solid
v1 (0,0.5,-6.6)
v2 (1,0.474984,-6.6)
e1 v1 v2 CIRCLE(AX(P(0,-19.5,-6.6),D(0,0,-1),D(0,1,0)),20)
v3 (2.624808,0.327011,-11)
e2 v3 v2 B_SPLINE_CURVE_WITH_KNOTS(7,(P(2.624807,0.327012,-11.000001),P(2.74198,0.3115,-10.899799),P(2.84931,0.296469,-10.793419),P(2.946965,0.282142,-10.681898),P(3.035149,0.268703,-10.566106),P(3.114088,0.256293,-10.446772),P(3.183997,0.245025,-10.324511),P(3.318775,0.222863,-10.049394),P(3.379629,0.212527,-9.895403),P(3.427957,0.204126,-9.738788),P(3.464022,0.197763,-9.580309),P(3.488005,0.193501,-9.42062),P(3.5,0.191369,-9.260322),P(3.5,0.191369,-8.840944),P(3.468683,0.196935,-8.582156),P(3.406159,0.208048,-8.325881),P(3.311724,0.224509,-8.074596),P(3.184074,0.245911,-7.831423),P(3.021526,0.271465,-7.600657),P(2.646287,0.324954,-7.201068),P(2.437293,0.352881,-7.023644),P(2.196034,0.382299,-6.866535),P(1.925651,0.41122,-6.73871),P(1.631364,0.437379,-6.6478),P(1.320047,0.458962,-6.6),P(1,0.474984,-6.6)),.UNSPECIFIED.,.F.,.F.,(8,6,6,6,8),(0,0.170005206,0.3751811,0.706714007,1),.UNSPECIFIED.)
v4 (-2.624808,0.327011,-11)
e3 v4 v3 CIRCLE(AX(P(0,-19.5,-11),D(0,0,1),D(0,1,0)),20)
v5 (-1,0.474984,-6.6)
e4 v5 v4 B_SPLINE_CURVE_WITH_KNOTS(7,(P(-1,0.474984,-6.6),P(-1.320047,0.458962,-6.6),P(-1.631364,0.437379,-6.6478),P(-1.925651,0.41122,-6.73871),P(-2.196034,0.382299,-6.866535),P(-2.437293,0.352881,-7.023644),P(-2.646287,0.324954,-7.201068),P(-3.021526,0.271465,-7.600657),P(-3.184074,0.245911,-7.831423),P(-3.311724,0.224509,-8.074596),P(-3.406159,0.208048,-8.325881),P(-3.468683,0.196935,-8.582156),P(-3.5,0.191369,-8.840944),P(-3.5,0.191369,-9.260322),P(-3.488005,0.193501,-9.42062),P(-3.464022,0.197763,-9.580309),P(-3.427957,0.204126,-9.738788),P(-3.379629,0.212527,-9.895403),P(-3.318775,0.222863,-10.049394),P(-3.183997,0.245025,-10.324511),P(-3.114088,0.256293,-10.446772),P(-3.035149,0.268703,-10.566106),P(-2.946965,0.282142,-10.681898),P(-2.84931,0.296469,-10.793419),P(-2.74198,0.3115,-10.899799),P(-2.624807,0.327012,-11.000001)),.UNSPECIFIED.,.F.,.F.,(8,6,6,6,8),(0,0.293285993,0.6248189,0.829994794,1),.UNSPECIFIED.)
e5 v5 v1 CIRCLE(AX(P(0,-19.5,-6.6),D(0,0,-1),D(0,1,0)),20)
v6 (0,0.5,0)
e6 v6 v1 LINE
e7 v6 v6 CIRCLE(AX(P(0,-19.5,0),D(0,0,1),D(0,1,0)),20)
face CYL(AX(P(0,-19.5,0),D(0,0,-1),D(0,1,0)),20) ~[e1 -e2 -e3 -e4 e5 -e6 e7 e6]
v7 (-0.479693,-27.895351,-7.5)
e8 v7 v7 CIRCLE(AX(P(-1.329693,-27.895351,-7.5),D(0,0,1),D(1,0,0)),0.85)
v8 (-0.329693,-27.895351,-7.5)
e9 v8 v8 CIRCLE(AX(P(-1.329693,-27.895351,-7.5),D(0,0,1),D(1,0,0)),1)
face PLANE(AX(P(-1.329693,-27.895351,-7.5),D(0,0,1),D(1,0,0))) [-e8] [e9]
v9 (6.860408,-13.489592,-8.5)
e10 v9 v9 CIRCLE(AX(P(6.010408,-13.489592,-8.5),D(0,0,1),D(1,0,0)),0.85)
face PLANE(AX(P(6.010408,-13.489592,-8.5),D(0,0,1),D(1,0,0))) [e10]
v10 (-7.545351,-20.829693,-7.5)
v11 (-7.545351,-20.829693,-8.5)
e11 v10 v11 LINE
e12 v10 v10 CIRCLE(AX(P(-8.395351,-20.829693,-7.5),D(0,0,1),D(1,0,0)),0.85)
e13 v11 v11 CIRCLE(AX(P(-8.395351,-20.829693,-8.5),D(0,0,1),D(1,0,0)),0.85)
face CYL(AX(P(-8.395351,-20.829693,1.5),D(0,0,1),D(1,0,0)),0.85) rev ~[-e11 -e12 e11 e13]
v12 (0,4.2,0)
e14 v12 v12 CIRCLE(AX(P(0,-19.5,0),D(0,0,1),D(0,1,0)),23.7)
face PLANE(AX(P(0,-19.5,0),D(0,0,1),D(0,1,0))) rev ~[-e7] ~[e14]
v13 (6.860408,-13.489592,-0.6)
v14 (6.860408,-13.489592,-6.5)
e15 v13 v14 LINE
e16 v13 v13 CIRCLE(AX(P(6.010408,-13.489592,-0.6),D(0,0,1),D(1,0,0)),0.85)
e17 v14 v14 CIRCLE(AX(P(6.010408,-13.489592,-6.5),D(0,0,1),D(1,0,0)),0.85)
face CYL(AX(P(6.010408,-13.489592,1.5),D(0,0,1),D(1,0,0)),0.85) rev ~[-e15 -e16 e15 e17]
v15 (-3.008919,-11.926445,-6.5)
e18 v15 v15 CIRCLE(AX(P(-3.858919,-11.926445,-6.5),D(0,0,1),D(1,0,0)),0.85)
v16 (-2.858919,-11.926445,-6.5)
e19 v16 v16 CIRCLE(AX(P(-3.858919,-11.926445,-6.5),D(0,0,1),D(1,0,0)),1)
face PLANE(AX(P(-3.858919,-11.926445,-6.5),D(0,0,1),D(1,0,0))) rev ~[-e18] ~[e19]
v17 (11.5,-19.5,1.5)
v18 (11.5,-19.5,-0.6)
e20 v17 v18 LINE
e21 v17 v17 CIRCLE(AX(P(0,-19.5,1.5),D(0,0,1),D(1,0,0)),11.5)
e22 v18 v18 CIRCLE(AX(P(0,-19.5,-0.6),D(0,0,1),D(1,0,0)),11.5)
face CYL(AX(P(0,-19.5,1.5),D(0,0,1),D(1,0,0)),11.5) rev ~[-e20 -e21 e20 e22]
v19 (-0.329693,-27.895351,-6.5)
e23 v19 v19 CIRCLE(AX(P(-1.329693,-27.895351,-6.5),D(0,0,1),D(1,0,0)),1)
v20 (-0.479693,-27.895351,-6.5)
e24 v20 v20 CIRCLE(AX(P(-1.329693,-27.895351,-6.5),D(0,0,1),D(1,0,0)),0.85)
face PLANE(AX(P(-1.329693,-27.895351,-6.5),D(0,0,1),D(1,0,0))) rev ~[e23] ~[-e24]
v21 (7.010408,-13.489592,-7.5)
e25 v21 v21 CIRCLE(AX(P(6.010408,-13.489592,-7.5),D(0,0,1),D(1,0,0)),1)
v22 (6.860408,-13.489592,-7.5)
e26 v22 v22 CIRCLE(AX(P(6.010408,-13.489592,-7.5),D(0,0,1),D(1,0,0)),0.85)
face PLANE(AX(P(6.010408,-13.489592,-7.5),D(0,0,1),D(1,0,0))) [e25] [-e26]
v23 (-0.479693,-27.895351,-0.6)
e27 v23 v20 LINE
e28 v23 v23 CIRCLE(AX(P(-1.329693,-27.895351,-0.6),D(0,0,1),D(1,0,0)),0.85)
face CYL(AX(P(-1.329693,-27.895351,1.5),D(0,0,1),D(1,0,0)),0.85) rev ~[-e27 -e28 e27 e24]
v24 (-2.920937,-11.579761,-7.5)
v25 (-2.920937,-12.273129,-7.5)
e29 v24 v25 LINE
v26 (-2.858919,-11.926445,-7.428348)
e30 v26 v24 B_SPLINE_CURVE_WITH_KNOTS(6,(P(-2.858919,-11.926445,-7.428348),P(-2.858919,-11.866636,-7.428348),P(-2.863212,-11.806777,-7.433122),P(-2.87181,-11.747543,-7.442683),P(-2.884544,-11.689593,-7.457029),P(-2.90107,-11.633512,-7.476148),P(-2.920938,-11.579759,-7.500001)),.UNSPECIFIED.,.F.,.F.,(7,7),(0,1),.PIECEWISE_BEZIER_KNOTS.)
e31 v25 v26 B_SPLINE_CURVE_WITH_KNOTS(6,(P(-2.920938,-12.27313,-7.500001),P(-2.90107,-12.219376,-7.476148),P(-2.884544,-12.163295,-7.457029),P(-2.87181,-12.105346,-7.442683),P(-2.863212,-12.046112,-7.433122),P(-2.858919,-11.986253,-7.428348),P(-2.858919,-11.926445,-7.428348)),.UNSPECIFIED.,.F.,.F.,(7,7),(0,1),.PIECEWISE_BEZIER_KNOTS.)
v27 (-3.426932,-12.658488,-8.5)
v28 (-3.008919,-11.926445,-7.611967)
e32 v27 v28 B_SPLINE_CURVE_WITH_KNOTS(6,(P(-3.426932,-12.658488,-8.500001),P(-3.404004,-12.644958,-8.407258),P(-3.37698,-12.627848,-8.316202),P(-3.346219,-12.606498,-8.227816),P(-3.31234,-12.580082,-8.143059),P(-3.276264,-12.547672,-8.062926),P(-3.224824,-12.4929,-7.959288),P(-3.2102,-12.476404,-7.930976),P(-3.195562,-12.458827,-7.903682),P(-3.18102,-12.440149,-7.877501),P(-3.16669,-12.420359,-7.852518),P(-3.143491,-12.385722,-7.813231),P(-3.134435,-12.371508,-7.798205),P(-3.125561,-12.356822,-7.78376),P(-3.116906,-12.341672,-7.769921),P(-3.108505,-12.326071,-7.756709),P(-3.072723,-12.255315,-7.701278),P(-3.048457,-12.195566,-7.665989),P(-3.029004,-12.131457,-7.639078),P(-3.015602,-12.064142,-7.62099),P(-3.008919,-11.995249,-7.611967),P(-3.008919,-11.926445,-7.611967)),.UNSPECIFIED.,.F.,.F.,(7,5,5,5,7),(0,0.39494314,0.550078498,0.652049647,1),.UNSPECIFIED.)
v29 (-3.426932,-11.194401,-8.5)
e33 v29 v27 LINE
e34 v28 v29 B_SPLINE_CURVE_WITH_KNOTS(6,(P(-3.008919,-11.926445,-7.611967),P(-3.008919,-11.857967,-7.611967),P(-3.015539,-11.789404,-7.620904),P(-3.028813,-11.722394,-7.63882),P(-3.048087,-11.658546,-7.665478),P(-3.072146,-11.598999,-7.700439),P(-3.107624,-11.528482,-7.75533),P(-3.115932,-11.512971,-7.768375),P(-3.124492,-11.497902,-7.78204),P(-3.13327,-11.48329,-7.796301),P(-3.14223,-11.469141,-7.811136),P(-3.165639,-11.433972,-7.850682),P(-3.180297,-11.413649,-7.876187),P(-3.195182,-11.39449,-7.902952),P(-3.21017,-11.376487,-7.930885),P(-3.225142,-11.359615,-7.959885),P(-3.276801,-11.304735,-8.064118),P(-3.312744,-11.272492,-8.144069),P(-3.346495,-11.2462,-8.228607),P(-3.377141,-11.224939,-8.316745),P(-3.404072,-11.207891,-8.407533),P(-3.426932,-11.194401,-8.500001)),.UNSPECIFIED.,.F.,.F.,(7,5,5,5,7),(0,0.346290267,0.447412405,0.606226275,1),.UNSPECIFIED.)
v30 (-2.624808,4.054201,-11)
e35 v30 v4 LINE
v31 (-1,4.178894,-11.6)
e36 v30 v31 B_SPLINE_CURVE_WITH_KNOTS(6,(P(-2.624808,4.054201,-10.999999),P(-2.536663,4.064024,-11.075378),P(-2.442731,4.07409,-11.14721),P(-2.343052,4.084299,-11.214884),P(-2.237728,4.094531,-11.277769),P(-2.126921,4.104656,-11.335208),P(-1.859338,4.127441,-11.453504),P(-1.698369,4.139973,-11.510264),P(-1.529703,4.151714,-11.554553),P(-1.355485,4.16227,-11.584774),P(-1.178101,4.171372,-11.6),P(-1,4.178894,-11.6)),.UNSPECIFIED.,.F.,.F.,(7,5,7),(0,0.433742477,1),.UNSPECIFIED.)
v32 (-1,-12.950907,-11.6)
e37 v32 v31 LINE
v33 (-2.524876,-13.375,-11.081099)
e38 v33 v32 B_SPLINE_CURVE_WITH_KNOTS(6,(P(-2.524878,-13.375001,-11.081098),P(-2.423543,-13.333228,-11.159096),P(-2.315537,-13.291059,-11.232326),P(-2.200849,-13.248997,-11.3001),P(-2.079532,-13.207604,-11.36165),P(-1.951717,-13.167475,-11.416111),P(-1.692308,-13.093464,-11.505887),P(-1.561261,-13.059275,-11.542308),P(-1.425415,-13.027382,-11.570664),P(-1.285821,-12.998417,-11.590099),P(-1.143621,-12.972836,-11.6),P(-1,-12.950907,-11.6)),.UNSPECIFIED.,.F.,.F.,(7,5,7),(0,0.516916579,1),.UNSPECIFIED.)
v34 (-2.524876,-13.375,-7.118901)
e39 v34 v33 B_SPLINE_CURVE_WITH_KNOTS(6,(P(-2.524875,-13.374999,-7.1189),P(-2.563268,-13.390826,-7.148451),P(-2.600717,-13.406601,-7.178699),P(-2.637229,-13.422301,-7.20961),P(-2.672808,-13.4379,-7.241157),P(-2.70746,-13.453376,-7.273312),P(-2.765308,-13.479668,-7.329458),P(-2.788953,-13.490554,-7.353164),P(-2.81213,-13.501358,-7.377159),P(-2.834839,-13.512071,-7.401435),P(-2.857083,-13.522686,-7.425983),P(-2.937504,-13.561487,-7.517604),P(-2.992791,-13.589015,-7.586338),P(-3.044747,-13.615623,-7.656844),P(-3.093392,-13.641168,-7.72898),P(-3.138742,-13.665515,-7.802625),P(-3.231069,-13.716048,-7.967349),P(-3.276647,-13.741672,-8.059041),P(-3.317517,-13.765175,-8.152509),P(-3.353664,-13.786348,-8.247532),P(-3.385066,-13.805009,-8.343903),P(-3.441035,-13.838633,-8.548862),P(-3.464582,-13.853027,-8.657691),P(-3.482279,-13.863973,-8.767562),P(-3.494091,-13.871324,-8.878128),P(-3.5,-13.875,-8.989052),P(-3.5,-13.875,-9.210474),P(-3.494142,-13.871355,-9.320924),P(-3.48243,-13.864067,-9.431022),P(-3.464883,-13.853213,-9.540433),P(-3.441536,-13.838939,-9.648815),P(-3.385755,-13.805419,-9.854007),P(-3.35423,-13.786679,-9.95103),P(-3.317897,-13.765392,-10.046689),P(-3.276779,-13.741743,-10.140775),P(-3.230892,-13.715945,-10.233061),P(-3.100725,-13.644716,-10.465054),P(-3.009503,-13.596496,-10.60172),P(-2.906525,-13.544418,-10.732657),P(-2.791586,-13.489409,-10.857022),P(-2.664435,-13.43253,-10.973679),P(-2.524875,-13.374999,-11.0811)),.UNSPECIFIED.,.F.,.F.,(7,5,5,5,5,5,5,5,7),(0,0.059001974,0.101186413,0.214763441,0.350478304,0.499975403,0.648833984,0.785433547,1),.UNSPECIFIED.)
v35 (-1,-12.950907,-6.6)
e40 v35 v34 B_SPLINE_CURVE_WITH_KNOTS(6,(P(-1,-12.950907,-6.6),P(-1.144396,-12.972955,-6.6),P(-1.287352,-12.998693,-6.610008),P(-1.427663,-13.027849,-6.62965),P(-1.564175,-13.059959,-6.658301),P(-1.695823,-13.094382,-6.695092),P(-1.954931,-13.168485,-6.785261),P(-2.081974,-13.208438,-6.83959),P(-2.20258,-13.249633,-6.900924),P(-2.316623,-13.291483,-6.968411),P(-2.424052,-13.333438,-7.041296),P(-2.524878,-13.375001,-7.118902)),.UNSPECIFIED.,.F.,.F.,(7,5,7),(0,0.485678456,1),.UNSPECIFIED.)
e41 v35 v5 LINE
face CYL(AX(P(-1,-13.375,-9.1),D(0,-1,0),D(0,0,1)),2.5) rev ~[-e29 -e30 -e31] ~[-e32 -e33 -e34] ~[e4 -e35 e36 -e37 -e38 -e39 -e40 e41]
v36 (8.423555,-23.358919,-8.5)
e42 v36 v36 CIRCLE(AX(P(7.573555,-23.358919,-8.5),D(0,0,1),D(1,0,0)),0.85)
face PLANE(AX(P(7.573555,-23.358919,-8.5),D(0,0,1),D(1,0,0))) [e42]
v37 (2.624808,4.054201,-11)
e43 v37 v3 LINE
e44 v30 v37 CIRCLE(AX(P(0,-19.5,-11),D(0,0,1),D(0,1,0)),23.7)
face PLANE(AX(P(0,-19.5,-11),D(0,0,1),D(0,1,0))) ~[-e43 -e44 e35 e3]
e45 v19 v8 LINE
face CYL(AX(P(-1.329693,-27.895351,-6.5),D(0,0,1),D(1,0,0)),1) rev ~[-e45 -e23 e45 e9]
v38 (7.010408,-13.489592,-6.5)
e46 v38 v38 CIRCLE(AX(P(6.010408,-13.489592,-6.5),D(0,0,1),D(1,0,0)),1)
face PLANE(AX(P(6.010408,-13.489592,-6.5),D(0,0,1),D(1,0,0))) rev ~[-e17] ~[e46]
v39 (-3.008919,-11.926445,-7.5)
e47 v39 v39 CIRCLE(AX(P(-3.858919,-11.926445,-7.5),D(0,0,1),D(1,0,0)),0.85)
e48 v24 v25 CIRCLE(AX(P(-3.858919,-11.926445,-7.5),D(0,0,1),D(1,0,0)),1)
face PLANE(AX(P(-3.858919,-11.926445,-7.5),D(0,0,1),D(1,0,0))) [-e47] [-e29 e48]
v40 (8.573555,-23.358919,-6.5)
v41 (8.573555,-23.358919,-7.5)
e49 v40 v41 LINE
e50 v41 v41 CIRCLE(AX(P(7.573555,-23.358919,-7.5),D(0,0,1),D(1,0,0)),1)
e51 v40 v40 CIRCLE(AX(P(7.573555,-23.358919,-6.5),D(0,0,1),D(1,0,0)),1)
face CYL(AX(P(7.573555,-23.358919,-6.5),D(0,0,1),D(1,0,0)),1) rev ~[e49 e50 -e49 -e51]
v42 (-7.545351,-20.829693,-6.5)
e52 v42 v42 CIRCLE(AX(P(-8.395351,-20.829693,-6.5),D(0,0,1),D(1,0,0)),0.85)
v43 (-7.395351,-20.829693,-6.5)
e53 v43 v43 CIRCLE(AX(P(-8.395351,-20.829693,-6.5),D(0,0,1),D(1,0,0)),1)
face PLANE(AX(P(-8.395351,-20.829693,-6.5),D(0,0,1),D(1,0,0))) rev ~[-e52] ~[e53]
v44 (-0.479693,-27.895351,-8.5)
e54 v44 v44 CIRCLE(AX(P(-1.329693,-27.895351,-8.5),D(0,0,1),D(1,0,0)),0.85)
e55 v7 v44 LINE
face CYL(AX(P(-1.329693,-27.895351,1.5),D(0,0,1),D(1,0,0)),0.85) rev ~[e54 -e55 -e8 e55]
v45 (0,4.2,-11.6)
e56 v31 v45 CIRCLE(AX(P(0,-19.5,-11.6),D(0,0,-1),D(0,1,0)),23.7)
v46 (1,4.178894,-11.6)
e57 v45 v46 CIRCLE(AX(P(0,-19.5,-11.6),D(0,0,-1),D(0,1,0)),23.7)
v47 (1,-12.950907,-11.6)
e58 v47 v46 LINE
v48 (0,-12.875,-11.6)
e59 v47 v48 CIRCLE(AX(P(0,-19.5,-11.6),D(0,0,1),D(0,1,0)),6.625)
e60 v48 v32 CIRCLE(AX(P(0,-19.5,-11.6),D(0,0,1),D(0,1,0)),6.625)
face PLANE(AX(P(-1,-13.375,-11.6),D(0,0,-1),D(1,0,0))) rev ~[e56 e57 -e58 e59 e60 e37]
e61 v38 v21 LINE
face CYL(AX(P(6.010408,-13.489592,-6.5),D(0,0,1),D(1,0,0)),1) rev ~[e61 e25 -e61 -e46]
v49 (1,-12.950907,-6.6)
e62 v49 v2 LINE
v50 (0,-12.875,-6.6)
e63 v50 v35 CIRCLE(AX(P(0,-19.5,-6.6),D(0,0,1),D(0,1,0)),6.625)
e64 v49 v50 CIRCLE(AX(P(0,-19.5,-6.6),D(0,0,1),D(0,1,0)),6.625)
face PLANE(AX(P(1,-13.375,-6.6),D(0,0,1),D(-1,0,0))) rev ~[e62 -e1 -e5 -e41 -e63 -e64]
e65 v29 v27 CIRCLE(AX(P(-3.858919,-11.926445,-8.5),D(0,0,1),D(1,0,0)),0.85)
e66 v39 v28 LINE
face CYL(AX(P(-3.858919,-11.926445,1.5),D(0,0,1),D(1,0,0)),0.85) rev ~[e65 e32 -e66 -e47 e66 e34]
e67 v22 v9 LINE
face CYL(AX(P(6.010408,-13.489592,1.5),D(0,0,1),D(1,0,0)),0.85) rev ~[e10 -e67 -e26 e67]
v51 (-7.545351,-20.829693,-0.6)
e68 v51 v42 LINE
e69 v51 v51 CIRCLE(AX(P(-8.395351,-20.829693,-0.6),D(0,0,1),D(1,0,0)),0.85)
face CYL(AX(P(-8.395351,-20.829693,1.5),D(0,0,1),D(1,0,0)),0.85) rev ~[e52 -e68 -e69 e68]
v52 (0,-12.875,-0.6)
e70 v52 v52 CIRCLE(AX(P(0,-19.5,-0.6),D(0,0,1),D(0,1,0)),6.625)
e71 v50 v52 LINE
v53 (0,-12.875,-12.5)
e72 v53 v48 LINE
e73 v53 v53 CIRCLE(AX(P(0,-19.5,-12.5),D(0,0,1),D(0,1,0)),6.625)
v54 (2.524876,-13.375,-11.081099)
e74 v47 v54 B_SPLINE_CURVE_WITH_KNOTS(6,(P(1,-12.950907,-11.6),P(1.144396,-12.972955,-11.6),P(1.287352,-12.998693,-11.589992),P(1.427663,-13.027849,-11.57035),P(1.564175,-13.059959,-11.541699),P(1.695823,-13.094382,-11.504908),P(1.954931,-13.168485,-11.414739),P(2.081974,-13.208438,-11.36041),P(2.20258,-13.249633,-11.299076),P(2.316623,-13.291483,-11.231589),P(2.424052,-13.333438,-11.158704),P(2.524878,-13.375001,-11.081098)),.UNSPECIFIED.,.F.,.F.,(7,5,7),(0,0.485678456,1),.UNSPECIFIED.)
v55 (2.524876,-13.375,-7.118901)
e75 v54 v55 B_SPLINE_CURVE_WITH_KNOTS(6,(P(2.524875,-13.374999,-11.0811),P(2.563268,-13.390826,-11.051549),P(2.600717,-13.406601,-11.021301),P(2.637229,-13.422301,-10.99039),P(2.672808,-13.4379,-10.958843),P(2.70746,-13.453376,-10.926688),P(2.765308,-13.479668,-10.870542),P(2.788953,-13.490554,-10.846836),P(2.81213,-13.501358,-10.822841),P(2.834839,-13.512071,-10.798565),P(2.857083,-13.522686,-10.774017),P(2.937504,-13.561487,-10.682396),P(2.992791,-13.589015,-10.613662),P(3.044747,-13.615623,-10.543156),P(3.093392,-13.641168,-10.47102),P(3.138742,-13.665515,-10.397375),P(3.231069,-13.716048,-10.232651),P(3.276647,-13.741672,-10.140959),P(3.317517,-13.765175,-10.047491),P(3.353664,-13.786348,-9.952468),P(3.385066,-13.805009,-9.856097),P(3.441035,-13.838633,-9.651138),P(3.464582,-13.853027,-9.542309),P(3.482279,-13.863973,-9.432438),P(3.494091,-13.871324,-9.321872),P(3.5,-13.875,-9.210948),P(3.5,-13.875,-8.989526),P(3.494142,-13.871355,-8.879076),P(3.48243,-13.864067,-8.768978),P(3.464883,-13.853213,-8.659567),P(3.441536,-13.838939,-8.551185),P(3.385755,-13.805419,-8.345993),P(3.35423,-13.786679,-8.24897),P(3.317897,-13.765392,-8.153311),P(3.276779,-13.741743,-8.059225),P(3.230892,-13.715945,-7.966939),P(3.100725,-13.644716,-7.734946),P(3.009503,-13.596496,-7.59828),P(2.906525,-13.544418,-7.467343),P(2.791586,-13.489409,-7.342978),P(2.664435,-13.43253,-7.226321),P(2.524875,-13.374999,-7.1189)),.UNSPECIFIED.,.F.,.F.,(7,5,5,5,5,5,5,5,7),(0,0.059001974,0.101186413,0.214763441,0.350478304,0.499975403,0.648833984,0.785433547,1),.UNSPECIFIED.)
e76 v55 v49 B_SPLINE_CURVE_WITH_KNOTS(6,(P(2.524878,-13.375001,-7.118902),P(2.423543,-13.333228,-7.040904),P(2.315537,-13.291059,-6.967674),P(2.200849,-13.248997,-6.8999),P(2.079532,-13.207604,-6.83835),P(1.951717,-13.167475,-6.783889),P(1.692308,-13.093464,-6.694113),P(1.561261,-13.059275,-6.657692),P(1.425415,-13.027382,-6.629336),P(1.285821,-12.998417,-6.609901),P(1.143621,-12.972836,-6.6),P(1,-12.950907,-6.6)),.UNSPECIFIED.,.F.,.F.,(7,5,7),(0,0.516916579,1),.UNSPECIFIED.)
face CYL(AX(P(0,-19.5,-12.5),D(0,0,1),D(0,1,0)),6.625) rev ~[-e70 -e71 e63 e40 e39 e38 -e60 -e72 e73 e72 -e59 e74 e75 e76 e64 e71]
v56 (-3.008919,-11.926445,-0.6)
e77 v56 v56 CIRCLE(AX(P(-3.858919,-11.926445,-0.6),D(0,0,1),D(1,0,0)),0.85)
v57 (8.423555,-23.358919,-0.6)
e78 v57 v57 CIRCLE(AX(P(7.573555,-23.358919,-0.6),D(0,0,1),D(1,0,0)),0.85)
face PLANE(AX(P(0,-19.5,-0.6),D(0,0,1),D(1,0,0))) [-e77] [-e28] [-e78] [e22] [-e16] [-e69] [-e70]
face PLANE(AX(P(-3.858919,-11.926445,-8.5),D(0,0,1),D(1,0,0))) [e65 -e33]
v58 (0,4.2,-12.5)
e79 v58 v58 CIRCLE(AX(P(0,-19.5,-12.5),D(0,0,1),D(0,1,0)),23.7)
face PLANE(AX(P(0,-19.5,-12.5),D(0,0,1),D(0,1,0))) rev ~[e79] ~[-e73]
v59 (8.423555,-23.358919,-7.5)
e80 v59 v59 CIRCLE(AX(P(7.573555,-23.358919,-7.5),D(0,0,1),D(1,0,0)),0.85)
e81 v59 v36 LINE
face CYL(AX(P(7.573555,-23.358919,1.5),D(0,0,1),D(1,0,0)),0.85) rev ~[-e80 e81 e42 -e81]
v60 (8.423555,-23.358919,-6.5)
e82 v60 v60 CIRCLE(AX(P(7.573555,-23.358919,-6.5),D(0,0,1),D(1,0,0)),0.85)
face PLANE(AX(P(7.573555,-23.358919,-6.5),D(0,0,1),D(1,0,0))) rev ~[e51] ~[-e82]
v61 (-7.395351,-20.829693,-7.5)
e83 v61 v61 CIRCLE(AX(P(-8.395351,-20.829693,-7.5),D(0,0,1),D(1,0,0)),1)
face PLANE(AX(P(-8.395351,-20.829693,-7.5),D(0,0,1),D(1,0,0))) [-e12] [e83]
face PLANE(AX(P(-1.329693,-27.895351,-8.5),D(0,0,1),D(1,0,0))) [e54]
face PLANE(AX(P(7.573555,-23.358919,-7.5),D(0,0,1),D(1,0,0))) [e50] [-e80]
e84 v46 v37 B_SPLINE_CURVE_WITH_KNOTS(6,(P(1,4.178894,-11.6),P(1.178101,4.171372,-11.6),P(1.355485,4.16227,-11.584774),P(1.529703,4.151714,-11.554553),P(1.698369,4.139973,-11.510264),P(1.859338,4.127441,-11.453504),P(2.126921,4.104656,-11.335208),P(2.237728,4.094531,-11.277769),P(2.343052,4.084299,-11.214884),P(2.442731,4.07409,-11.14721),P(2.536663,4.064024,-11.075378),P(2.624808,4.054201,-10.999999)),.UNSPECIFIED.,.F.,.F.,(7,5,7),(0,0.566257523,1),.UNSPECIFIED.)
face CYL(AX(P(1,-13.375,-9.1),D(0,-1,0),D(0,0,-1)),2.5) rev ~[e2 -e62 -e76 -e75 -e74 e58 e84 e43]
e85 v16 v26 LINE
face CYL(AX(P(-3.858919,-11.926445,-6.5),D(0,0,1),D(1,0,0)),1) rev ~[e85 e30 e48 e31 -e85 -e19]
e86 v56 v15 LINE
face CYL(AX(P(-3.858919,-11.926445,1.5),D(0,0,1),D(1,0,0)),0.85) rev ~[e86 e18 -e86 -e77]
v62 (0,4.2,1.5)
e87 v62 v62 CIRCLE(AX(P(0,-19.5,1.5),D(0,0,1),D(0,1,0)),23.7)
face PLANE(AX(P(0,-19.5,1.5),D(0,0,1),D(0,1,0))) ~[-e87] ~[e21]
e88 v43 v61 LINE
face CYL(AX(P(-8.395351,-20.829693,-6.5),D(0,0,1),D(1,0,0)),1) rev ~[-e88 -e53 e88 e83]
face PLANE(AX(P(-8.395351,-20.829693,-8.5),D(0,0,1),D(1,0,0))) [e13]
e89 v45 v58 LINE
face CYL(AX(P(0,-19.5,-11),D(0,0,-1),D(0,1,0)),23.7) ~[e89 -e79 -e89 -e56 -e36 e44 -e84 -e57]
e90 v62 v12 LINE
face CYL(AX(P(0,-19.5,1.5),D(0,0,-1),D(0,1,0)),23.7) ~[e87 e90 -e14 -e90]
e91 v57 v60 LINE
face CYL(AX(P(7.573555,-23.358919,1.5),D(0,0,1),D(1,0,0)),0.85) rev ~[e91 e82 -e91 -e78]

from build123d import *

# Parameters (mm, degrees)
SKIZZE4_R                                   = 11.5
SCHNITT_LINEAR_AUSTRAGEN1_DEPTH             = 2.1
SCHNITT_LINEAR_START                        = -8
SKIZZE5_R                                   = 1
SCHNITT_LINEAR_AUSTRAGEN2_DEPTH             = 1
SCHNITT_LINEAR_AUSTRAGEN3_REACH             = 31.825
SCHNITT_LINEAR_AUSTRAGEN3_DIRECTION_2_DEPTH = 18.575
SKIZZE7_R                                   = 0.85
SCHNITT_LINEAR_AUSTRAGEN4_DEPTH             = 10


with BuildPart() as part:
    # Skizze3 → Rotation1 (revolve)
    with BuildSketch(Plane(origin=(0, 0, 0), x_dir=(0, 0, -1), z_dir=(1, 0, 0))):
        Polygon((-1.5, 4.2), (0, 4.2), (0, 0.5), (11, 0.5), (11, 4.2), (12.5, 4.2), (12.5, -12.875), (-1.5, -12.875), align=None)
    revolve(axis=Axis((0, -19.5, -13), (0, 0, 1)))

    # Skizze4 → Schnitt-Linear austragen1 (cut)
    with BuildSketch(Plane.XY.offset(1.5)):
        with Locations((0, -19.5)):
            Circle(SKIZZE4_R)
    extrude(amount=-SCHNITT_LINEAR_AUSTRAGEN1_DEPTH, mode=Mode.SUBTRACT)

    # Skizze5 → Schnitt-Linear austragen2 (cut)
    with BuildSketch(Plane.XY.offset(1.5).offset(SCHNITT_LINEAR_START)):
        with Locations((6.01040764, -13.48959236)):
            Circle(SKIZZE5_R)
        with Locations((7.573555456, -23.358919248)):
            Circle(SKIZZE5_R)
        with Locations((-1.329692953, -27.895350895)):
            Circle(SKIZZE5_R)
        with Locations((-8.395350895, -20.829692953)):
            Circle(SKIZZE5_R)
        with Locations((-3.858919248, -11.926444544)):
            Circle(SKIZZE5_R)
    extrude(amount=-SCHNITT_LINEAR_AUSTRAGEN2_DEPTH, mode=Mode.SUBTRACT)

    # Skizze6 → Schnitt-Linear austragen3 (cut, up to next)
    with BuildSketch(Plane(origin=(9.01325694, -13.375, -16.436641525), x_dir=(1, 0, 0), z_dir=(0, 1, 0)), mode=Mode.PRIVATE) as schnitt_linear_austragen3_sk1:
        with BuildLine():
            Line((-10.01325694, -4.836641525), (-8.01325694, -4.836641525))
            ThreePointArc((-8.01325694, -4.836641525), (-5.51325694, -7.336641525), (-8.01325694, -9.836641525))
            Line((-8.01325694, -9.836641525), (-10.01325694, -9.836641525))
            ThreePointArc((-10.01325694, -9.836641525), (-12.51325694, -7.336641525), (-10.01325694, -4.836641525))
        make_face()
    schnitt_linear_austragen3_tool1 = extrude(schnitt_linear_austragen3_sk1.sketch, amount=-SCHNITT_LINEAR_AUSTRAGEN3_REACH, mode=Mode.PRIVATE) & part.part
    add(schnitt_linear_austragen3_tool1.solids().sort_by_distance((0, -13.375, -9.1))[0], mode=Mode.SUBTRACT)
    add(schnitt_linear_austragen3_tool1.solids().sort_by_distance((0, -13.375, -9.1))[1], mode=Mode.SUBTRACT)

    # Skizze6 → Schnitt-Linear austragen3 direction 2 (cut)
    with BuildSketch(Plane(origin=(9.01325694, -13.375, -16.436641525), x_dir=(1, 0, 0), z_dir=(0, 1, 0))):
        with BuildLine():
            Line((-10.01325694, -4.836641525), (-8.01325694, -4.836641525))
            ThreePointArc((-8.01325694, -4.836641525), (-5.51325694, -7.336641525), (-8.01325694, -9.836641525))
            Line((-8.01325694, -9.836641525), (-10.01325694, -9.836641525))
            ThreePointArc((-10.01325694, -9.836641525), (-12.51325694, -7.336641525), (-10.01325694, -4.836641525))
        make_face()
    extrude(amount=SCHNITT_LINEAR_AUSTRAGEN3_DIRECTION_2_DEPTH, mode=Mode.SUBTRACT)

    # Skizze7 → Schnitt-Linear austragen4 (cut)
    with BuildSketch(Plane.XY.offset(1.5)):
        with Locations((-3.858919248, -11.926444544)):
            Circle(SKIZZE7_R)
        with Locations((6.01040764, -13.48959236)):
            Circle(SKIZZE7_R)
        with Locations((7.573555456, -23.358919248)):
            Circle(SKIZZE7_R)
        with Locations((-1.329692953, -27.895350895)):
            Circle(SKIZZE7_R)
        with Locations((-8.395350895, -20.829692953)):
            Circle(SKIZZE7_R)
    extrude(amount=-SCHNITT_LINEAR_AUSTRAGEN4_DEPTH, mode=Mode.SUBTRACT)


solid = part.part
